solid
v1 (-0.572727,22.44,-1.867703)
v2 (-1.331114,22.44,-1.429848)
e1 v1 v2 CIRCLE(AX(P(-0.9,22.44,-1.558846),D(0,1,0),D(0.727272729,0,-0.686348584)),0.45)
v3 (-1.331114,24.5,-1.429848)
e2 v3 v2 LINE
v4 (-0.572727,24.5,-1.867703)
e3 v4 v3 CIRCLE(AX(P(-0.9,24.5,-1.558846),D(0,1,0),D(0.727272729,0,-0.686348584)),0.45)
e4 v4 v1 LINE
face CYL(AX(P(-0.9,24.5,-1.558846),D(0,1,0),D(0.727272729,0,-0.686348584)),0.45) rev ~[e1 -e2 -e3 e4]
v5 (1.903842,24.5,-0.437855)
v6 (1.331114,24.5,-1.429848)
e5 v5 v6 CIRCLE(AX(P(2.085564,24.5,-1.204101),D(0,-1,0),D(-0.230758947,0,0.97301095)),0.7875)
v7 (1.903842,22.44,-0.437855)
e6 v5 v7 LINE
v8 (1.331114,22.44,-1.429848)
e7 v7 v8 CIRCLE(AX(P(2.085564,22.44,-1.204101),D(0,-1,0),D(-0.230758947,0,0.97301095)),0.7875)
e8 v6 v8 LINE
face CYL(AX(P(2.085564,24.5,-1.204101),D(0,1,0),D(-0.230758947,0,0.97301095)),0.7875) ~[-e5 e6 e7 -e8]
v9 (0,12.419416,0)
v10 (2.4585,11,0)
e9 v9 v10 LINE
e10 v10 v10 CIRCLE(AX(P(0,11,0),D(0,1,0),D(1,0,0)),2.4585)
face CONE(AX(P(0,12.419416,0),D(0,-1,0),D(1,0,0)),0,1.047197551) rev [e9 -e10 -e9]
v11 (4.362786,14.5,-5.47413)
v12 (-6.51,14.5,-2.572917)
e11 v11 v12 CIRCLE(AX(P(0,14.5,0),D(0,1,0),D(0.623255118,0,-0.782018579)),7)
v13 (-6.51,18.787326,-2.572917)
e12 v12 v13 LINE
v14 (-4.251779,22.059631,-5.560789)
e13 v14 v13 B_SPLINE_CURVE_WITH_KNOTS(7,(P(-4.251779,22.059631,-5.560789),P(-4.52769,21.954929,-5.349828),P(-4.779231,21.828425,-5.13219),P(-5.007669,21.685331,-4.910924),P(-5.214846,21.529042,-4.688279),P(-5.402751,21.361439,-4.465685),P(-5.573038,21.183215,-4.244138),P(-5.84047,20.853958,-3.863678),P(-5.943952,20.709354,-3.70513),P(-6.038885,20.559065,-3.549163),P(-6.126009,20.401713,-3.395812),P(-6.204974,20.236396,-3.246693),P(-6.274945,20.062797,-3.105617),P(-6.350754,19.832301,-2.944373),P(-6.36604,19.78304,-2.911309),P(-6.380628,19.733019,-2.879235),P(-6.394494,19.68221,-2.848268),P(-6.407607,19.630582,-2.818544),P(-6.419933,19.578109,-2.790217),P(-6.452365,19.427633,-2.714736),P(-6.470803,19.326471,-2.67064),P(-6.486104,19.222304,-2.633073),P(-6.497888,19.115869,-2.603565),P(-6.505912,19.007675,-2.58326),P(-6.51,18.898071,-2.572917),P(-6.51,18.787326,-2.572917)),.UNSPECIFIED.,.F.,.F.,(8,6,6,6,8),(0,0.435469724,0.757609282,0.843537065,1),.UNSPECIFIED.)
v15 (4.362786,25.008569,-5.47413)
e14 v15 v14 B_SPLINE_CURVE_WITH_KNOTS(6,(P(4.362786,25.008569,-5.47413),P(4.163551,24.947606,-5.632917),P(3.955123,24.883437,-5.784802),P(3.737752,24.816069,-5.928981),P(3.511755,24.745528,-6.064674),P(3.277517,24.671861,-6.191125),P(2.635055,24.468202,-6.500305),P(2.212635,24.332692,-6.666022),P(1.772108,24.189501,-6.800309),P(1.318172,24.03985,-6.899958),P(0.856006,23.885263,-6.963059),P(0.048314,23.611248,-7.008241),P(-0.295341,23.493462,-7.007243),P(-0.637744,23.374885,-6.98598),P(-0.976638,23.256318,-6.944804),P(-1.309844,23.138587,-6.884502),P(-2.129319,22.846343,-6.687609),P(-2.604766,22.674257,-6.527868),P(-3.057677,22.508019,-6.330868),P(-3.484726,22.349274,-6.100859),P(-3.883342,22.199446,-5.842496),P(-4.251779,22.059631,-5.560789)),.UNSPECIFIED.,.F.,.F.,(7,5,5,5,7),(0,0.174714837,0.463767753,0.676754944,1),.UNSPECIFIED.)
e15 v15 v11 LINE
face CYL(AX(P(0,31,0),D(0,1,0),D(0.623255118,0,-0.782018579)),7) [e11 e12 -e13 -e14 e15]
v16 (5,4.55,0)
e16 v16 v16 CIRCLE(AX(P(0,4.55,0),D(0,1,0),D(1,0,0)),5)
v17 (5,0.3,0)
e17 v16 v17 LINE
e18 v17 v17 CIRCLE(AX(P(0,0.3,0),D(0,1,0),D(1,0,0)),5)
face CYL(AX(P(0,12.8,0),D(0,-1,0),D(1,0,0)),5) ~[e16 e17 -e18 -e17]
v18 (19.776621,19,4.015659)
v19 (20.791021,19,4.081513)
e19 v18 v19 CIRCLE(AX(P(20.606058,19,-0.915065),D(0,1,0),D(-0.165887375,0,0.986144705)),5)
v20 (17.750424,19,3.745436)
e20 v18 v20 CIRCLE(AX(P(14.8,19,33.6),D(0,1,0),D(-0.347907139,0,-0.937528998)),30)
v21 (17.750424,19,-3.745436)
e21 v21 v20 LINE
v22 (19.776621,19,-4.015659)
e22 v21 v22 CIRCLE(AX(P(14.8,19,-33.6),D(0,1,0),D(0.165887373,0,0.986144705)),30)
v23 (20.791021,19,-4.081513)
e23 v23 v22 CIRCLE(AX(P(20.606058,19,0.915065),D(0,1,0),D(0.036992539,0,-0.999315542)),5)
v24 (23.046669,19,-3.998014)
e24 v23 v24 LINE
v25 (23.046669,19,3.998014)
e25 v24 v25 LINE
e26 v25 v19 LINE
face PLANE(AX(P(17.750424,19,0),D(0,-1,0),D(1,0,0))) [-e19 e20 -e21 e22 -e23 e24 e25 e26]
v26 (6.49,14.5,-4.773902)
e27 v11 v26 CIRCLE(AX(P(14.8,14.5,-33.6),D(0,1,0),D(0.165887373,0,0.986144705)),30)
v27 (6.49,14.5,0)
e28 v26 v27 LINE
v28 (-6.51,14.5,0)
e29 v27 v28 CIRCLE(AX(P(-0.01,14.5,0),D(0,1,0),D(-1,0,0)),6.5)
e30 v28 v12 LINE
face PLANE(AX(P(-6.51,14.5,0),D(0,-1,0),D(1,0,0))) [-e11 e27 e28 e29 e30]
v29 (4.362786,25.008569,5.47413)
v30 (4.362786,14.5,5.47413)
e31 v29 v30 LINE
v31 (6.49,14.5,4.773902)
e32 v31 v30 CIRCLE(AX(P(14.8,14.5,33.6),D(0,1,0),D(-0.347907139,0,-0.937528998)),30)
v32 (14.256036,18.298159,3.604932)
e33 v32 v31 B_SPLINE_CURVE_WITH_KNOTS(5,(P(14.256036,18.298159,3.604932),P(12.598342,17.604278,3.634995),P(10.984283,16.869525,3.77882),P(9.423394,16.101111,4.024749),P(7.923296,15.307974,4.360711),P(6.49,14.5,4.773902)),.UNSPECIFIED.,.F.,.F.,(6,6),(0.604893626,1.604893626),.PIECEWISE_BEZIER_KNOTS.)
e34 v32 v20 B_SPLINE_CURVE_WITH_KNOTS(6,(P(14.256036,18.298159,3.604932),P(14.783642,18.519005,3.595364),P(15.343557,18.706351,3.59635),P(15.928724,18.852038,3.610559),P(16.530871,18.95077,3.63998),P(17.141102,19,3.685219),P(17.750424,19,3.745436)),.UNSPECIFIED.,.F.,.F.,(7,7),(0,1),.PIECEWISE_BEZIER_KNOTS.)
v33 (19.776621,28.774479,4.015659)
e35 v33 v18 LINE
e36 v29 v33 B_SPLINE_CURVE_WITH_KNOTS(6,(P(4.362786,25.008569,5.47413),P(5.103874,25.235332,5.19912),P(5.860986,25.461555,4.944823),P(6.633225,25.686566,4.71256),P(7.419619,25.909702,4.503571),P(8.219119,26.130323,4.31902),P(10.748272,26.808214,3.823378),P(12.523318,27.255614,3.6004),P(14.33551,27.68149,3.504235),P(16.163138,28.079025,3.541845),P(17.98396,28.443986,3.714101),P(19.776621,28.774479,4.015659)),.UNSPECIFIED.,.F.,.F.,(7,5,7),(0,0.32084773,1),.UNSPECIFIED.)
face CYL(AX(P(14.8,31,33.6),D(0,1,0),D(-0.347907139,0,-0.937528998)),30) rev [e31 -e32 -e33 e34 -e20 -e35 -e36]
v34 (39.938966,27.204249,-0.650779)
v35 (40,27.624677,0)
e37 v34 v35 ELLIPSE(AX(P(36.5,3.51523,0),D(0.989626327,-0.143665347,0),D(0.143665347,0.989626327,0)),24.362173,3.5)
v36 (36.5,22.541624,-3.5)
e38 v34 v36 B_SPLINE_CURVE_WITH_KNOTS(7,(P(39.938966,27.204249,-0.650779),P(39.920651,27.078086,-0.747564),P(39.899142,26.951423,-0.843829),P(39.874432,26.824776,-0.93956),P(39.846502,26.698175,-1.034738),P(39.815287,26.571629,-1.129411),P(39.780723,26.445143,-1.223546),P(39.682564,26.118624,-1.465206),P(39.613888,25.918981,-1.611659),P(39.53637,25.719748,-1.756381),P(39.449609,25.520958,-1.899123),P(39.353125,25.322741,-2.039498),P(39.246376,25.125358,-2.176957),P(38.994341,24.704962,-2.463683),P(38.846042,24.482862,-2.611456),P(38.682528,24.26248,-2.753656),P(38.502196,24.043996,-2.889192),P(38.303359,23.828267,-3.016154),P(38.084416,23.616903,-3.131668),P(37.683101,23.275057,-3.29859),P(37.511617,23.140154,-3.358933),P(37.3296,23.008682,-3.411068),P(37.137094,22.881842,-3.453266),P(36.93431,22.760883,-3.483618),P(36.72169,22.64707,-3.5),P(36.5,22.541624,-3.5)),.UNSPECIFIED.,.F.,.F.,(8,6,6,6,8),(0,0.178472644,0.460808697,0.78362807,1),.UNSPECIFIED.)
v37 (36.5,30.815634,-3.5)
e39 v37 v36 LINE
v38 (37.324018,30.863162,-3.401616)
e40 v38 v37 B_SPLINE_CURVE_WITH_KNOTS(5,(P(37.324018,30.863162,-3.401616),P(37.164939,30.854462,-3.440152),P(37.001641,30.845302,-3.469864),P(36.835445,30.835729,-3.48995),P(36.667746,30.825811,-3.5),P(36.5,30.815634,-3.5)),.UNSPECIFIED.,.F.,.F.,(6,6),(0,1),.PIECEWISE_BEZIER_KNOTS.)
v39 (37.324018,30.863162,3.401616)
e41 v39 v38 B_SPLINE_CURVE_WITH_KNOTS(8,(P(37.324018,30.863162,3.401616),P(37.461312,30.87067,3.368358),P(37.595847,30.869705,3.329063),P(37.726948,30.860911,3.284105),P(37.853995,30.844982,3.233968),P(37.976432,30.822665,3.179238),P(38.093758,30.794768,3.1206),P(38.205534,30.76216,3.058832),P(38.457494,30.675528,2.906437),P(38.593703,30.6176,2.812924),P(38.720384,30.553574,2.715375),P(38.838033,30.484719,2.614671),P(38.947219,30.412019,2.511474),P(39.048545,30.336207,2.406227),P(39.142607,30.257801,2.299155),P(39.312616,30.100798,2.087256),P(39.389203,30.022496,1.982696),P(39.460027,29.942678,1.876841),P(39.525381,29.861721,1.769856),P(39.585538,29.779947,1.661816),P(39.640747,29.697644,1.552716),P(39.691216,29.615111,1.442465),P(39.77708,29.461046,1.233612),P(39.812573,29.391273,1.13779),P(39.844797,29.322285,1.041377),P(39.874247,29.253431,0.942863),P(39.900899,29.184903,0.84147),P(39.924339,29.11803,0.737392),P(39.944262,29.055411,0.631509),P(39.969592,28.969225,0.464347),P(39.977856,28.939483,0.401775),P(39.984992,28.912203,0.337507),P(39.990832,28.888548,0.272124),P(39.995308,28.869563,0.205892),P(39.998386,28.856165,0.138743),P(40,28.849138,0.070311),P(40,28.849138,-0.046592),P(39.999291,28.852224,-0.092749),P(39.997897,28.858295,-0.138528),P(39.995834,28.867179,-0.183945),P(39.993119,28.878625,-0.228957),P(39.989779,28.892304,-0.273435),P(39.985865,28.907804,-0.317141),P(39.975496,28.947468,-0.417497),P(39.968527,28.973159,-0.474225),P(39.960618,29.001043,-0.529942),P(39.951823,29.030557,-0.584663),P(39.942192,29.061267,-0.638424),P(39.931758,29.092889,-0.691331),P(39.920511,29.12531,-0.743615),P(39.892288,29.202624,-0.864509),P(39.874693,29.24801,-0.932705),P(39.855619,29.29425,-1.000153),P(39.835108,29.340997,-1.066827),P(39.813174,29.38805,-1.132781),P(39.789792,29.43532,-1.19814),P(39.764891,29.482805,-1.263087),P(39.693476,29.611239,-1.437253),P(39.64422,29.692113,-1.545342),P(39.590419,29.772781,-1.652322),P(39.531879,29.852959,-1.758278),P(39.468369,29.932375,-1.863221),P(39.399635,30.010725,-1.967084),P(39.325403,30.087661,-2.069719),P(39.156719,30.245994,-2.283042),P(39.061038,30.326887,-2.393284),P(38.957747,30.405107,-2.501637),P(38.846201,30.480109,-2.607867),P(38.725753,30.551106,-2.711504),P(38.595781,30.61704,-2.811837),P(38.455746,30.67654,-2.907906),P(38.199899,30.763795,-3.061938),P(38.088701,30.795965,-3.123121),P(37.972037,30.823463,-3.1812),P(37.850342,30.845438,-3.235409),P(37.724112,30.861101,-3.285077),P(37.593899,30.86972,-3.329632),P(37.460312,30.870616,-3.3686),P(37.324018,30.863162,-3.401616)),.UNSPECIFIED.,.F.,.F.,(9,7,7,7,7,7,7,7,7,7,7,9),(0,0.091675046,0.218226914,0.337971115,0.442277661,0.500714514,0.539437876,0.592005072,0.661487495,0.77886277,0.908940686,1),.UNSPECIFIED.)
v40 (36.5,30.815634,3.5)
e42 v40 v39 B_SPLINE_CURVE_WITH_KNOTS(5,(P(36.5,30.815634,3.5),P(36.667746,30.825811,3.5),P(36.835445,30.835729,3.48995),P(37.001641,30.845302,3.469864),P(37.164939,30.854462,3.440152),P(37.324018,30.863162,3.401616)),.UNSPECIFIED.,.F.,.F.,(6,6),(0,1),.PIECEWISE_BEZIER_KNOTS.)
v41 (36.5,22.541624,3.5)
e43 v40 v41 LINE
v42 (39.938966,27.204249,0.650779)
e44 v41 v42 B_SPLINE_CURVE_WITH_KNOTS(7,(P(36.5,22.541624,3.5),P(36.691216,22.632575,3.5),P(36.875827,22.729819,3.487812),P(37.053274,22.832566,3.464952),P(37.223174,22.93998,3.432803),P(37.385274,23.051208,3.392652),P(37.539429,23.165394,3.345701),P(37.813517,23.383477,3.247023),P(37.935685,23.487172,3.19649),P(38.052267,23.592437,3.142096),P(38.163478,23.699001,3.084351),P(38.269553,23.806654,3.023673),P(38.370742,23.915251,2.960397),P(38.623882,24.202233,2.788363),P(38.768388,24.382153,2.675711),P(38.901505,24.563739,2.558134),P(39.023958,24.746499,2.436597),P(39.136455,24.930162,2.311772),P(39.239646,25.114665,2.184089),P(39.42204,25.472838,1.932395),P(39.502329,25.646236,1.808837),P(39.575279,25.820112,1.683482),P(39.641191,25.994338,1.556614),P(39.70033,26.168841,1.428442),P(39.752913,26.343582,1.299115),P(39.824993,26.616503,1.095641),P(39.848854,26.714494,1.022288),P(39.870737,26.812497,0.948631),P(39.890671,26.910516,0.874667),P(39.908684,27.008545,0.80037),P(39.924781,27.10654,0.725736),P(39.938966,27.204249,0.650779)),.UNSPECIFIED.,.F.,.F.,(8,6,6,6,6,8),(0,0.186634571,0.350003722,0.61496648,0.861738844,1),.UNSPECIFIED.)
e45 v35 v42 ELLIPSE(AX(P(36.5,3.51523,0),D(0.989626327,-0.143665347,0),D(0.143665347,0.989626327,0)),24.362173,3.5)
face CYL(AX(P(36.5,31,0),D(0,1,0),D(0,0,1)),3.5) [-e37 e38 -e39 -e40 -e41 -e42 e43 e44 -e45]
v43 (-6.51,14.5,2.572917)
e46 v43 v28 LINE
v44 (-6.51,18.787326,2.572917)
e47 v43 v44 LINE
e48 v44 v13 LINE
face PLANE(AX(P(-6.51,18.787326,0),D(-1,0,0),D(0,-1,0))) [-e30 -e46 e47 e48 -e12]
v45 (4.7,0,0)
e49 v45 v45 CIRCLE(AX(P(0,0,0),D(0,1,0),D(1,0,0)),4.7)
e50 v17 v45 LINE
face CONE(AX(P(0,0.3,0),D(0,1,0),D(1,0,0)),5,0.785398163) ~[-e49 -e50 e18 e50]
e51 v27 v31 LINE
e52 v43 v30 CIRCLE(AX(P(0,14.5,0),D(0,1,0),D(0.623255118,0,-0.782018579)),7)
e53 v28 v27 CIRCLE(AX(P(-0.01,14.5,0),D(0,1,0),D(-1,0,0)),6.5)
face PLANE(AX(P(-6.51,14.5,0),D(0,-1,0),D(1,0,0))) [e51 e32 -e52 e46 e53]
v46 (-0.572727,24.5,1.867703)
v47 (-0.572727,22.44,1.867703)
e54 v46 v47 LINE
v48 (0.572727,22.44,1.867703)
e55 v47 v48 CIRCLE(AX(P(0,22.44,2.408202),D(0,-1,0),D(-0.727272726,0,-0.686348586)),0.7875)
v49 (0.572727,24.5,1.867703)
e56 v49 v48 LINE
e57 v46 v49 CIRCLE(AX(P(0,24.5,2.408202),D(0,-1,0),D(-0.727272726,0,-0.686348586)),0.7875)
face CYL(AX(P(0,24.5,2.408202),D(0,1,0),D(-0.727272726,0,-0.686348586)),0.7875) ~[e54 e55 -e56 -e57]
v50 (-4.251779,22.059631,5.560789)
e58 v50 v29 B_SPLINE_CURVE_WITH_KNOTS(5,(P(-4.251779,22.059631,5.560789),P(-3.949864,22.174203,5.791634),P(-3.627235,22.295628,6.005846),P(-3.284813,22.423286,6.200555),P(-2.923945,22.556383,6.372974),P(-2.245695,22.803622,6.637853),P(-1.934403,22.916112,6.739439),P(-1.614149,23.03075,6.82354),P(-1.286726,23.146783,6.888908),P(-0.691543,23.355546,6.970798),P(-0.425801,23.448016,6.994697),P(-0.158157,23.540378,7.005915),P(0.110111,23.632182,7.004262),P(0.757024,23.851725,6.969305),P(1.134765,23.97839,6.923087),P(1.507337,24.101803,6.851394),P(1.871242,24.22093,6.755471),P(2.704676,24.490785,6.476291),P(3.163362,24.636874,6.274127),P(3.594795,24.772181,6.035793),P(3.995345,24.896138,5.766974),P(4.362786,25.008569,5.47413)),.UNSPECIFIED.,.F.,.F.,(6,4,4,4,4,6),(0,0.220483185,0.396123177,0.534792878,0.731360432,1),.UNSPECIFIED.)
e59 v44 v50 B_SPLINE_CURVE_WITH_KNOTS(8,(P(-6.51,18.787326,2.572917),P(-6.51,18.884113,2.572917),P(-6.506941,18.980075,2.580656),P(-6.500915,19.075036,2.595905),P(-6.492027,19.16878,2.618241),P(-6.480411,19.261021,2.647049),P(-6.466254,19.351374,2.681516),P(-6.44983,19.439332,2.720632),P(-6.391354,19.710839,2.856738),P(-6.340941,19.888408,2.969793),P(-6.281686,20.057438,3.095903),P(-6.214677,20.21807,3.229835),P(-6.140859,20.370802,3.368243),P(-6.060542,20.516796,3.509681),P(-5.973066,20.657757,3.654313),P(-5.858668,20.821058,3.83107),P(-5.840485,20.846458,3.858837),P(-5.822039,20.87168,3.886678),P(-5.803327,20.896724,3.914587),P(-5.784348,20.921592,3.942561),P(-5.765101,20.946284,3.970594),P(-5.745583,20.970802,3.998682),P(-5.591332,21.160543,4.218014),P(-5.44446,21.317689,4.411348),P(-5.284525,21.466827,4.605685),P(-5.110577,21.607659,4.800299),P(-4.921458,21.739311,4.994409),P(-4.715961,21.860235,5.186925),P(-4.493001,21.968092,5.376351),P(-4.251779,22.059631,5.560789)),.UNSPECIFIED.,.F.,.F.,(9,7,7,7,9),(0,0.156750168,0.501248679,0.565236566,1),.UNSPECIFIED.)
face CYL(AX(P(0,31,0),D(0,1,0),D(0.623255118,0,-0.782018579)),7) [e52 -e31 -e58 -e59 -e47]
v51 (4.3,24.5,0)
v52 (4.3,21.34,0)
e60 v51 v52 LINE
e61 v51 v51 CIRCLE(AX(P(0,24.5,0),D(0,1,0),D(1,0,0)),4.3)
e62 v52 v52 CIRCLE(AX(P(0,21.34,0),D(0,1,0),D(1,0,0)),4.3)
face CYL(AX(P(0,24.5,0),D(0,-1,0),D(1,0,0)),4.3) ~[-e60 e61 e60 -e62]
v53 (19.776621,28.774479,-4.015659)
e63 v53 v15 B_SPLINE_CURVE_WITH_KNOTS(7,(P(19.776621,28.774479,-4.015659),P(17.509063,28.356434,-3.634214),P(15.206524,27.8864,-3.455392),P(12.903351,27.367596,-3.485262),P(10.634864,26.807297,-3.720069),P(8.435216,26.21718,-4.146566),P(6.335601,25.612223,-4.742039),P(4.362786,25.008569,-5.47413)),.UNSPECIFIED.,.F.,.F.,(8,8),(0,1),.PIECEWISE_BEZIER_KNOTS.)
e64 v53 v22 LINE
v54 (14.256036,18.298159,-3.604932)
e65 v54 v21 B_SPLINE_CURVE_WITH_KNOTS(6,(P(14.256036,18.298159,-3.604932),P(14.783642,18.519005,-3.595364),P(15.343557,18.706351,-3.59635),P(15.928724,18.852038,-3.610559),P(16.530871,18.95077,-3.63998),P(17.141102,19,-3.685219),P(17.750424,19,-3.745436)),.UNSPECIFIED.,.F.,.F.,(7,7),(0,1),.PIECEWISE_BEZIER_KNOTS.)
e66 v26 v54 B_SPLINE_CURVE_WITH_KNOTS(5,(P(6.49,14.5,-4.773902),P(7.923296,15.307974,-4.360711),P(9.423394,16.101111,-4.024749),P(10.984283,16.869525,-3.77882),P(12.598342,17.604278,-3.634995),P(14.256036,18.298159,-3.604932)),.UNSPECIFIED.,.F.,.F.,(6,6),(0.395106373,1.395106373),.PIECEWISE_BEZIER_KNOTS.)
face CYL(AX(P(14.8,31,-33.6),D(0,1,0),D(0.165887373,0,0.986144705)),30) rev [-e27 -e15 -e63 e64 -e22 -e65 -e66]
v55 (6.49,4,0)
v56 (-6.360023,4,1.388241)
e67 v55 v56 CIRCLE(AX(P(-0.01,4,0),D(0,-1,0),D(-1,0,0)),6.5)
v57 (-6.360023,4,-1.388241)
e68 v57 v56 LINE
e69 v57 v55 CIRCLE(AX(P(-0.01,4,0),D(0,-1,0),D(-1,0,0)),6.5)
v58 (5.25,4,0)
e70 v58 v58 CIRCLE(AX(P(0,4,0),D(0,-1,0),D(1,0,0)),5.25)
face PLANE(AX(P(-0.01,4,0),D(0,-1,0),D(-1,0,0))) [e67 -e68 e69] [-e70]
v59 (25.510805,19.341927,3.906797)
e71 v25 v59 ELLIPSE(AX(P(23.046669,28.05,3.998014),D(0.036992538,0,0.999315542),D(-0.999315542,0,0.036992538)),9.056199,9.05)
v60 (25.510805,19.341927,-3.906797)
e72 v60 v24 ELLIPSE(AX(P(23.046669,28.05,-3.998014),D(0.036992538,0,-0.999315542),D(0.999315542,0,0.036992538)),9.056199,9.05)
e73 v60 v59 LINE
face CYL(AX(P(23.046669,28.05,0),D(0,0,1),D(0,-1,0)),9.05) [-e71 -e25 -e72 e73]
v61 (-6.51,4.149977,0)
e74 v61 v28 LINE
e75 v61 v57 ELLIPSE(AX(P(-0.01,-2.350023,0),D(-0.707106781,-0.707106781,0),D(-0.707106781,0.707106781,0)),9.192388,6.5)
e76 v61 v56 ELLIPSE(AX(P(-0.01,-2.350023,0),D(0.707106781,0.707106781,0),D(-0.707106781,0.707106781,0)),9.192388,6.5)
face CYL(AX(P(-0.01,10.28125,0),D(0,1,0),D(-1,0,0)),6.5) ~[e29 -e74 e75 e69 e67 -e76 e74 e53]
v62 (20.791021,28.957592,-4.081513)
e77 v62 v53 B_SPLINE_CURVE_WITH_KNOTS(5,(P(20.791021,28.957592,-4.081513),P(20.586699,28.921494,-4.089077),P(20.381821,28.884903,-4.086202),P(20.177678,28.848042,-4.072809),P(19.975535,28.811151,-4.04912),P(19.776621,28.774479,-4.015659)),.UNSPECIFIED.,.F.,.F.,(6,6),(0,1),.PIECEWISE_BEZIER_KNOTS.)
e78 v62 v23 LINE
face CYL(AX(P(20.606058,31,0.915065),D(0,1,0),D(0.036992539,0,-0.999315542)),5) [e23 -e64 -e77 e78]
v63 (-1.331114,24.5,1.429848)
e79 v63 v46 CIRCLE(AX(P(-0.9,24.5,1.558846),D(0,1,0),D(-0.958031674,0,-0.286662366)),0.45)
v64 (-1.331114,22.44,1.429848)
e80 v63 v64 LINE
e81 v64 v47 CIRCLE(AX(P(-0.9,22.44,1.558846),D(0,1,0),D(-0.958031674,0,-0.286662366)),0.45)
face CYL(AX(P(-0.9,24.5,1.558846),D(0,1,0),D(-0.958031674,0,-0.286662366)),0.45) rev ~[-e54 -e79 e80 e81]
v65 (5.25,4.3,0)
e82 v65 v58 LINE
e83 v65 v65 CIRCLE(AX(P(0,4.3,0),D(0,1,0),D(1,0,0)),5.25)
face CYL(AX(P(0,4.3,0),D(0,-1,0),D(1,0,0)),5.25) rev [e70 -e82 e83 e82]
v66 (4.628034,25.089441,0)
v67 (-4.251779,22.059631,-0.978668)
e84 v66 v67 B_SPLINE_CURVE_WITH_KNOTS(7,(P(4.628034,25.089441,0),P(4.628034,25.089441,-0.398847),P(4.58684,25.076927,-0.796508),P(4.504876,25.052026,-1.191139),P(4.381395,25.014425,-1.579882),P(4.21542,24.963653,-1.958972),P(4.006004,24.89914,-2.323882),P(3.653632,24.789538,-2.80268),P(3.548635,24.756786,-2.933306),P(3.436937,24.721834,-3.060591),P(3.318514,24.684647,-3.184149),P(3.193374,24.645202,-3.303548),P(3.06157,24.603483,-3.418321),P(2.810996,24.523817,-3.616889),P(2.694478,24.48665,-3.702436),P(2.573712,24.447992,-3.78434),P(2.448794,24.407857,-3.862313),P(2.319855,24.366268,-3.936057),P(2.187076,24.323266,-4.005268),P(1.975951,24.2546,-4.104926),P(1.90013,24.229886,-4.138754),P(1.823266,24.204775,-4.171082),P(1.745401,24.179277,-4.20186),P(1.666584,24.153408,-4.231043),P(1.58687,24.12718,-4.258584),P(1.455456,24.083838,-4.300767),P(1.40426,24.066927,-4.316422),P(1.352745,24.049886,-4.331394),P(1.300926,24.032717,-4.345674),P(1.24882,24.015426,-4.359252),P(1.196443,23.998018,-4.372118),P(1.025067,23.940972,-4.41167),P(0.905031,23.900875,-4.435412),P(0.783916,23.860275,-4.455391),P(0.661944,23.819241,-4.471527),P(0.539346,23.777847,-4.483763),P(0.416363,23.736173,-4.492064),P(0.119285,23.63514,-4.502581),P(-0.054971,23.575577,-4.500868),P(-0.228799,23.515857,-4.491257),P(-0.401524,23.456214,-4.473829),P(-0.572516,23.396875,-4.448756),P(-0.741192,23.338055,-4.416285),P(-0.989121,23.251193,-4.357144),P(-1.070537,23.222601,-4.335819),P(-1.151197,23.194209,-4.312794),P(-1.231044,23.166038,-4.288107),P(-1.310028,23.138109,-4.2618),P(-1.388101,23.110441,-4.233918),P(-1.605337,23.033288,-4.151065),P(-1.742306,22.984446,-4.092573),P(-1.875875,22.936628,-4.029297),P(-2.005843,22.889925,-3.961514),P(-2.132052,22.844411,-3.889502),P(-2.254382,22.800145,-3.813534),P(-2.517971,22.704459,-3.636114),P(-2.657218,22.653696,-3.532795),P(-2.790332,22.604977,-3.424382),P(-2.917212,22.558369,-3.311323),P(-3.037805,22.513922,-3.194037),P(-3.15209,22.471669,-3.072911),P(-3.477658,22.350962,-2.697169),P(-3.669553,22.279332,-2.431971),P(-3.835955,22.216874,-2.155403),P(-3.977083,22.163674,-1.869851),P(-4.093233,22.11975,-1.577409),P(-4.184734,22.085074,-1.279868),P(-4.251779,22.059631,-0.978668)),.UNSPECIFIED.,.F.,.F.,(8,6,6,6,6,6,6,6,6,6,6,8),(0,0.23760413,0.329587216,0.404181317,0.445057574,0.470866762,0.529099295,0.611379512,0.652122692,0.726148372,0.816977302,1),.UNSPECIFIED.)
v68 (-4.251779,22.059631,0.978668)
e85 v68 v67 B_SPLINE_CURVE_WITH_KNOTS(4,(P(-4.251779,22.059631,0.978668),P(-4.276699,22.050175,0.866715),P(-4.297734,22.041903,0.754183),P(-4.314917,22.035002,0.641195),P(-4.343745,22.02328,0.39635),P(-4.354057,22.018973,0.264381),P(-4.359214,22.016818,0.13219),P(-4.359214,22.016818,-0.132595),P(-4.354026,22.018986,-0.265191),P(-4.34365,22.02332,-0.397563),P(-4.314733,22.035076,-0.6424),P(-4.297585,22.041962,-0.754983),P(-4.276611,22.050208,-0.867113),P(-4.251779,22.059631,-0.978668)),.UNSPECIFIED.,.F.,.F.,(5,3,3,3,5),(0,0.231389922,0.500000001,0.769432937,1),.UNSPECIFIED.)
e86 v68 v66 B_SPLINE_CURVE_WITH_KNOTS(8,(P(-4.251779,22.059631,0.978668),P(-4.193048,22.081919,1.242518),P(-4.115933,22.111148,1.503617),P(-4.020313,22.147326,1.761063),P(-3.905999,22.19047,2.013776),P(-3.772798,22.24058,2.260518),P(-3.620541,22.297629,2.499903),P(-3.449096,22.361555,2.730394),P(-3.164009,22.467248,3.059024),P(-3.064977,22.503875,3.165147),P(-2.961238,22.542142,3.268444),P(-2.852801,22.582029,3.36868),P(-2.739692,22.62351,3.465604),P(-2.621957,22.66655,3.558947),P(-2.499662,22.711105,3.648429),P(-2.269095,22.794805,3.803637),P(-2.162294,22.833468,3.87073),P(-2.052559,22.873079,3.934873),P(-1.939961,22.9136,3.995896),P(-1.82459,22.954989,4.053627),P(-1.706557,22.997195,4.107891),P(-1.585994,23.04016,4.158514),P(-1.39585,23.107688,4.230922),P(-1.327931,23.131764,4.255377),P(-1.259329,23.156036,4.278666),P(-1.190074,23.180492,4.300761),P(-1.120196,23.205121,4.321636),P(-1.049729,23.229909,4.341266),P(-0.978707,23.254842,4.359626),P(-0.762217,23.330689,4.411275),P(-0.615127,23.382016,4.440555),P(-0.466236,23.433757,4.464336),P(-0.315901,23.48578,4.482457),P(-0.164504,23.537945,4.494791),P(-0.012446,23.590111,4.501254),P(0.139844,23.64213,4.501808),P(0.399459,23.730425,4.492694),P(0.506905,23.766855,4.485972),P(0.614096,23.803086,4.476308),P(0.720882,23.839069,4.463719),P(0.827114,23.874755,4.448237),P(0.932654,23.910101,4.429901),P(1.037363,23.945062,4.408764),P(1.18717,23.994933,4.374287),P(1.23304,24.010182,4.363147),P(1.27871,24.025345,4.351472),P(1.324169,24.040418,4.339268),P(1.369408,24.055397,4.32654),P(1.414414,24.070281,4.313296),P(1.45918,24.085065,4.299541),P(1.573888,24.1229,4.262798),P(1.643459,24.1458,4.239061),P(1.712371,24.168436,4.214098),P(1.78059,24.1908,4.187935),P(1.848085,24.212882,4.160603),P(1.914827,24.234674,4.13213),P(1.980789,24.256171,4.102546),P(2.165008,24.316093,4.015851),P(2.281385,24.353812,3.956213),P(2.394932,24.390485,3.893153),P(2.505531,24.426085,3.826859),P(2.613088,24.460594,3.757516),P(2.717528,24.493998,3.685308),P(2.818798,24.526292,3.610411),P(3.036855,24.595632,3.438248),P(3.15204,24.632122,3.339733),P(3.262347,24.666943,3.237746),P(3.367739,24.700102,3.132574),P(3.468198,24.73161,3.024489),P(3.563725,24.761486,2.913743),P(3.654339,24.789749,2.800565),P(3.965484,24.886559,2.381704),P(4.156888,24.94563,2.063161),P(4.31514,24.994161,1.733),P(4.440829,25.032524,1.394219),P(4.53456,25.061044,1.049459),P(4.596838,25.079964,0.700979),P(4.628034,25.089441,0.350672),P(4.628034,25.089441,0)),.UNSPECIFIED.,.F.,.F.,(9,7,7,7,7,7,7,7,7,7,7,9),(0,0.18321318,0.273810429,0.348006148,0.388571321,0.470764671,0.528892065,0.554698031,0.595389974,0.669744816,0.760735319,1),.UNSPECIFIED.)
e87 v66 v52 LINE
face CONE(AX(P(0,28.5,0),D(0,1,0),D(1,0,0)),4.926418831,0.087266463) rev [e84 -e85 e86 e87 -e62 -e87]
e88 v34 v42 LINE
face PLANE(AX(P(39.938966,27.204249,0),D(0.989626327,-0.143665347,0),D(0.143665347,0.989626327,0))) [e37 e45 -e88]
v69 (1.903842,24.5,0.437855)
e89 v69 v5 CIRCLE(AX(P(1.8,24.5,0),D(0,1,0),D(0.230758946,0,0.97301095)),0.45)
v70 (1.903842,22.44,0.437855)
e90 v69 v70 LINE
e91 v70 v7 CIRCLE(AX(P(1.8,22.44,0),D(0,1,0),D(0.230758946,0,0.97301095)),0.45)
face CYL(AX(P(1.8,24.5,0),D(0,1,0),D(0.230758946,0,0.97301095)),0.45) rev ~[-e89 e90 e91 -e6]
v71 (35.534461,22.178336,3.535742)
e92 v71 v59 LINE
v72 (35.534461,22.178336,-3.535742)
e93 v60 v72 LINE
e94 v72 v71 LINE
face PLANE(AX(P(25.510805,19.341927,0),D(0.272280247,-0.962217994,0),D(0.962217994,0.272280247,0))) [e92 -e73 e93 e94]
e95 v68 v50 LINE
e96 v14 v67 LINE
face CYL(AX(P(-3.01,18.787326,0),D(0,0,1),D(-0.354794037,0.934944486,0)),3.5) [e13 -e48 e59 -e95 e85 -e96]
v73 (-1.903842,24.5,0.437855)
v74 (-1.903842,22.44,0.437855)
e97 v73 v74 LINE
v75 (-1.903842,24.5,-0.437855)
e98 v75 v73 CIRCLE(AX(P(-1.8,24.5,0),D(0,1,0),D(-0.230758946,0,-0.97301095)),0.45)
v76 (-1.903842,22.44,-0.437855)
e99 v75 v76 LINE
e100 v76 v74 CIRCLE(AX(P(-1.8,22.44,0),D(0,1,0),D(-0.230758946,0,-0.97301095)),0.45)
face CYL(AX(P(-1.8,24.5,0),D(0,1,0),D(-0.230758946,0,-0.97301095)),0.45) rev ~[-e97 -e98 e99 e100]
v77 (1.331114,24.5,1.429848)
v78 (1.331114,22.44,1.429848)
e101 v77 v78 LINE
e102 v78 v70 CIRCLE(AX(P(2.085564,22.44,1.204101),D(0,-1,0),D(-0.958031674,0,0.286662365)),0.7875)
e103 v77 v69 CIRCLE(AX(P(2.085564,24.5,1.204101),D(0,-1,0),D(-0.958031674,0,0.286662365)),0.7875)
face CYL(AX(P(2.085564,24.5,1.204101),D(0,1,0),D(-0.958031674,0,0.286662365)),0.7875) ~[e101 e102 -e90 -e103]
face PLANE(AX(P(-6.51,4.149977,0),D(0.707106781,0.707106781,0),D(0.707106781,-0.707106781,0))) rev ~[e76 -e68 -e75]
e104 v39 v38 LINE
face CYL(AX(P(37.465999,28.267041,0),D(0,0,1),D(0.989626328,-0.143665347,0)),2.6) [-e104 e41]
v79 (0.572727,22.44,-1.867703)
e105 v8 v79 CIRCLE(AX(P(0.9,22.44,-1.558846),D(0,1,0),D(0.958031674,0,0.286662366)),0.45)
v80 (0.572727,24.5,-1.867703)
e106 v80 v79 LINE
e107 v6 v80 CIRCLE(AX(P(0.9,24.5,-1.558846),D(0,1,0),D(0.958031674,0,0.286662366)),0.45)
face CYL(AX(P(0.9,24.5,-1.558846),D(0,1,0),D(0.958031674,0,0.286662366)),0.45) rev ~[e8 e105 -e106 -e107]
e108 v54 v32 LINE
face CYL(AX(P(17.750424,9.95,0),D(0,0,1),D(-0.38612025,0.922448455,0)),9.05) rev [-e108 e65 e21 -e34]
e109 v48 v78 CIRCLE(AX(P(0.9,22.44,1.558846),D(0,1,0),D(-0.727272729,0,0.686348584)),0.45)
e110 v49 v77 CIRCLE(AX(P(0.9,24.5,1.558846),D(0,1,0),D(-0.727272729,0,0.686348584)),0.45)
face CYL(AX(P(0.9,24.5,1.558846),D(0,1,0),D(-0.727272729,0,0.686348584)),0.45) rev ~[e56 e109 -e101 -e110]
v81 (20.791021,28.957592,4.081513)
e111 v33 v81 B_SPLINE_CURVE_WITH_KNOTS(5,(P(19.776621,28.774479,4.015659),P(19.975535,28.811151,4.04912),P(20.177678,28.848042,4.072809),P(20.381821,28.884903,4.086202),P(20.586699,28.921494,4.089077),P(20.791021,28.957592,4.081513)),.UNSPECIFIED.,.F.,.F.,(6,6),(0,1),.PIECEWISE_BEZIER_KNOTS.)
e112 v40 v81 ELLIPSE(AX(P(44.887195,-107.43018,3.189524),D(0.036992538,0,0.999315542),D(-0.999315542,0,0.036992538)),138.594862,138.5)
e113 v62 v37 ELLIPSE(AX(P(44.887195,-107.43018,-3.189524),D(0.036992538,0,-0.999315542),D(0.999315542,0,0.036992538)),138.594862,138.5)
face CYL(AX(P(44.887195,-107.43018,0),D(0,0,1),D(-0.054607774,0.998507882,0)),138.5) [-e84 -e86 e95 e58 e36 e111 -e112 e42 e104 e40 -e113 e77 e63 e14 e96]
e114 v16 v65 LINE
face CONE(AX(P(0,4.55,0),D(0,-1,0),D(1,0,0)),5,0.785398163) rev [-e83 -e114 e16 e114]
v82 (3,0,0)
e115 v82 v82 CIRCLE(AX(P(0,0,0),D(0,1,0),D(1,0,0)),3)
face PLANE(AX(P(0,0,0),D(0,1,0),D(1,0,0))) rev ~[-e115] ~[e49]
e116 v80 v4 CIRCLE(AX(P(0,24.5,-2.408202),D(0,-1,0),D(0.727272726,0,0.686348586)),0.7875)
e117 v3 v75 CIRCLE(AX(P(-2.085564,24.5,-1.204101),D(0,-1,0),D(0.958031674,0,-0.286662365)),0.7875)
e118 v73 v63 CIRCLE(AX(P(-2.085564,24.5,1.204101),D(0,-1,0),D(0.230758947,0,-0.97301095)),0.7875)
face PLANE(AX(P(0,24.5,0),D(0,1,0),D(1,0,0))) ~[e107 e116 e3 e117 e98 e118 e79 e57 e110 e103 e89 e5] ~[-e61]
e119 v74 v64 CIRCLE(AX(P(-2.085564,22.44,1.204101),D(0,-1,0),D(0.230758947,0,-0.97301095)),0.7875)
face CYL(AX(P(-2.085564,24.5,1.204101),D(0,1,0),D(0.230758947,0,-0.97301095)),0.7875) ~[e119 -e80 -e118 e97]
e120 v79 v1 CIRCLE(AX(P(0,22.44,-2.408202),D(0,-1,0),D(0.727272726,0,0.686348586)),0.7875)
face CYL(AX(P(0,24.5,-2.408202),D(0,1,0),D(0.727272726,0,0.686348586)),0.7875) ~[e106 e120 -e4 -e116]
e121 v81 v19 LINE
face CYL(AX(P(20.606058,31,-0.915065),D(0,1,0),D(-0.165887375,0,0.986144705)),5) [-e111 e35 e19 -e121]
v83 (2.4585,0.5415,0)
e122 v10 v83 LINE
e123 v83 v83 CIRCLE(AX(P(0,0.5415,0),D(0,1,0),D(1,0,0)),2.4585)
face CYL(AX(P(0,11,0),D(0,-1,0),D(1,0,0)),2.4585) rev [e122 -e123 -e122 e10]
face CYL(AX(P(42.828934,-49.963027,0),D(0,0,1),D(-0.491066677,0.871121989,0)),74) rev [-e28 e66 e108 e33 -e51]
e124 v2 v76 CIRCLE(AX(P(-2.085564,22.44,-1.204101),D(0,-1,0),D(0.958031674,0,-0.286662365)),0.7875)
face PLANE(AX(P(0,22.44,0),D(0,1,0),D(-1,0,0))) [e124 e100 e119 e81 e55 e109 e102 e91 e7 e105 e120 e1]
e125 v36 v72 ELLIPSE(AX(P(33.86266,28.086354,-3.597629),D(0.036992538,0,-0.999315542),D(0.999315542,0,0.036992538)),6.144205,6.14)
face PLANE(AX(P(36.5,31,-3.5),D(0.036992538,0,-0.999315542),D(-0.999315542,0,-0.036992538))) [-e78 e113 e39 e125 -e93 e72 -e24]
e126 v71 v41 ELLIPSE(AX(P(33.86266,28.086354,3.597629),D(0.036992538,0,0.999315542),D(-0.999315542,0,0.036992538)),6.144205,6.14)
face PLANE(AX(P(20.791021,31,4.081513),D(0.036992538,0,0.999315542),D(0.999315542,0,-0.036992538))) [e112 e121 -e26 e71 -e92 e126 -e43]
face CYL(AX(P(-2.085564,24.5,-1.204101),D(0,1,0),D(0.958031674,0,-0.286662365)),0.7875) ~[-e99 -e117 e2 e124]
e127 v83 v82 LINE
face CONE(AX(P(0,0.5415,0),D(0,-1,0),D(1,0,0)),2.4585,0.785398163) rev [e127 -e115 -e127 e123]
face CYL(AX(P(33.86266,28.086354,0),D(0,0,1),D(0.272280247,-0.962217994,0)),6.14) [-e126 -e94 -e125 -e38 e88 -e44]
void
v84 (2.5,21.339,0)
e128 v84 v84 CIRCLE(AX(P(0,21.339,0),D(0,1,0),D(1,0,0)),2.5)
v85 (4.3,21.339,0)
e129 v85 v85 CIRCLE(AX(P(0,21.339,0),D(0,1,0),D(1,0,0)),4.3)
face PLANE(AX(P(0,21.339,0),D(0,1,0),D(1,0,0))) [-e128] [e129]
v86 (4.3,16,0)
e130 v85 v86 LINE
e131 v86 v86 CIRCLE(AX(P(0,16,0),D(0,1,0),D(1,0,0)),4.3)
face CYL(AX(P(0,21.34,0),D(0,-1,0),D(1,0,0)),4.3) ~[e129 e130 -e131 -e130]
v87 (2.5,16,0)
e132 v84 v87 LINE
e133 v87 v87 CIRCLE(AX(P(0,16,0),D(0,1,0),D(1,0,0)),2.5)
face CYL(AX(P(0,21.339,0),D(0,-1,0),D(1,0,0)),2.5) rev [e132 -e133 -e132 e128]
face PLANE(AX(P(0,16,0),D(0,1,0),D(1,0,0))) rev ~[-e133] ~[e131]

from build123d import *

# Parameters (mm, degrees)
EXTRUDE1_DEPTH      = 8
EXTRUDE1_DEPTH_BACK = 8
SKETCH2_W           = 6.5
SKETCH2_H           = 12.5625
SKETCH3_W           = 94
SKETCH3_H           = 94
EXTRUDE2_DEPTH      = 31
EXTRUDE3_DEPTH      = 14
EXTRUDE3_DEPTH_BACK = 14
SKETCH4_W           = 94
SKETCH4_H           = 47
EXTRUDE4_DEPTH      = 2.06
EXTRUDE4_DEPTH_BACK = 2.06


with BuildPart() as part:
    # Sketch1 → Extrude1 (new, two sides: drawn at the far end of the back side and taken through both)
    with BuildSketch(Plane.XY.offset(-EXTRUDE1_DEPTH_BACK)):
        with BuildLine():
            Line((-6.51, 14.5), (6.49, 14.5))
            ThreePointArc((6.49, 14.5), (10.317505243, 16.512584876), (14.256035557, 18.29815852))
            ThreePointArc((14.256035557, 18.29815852), (15.968337207, 18.822804929), (17.75042382, 19))
            Line((17.75042382, 19), (23.046668584, 19))
            ThreePointArc((23.046668584, 19), (24.290541726, 19.085889358), (25.51080482, 19.341927159))
            Line((25.51080482, 19.341927159), (35.534460964, 22.178335945))
            ThreePointArc((35.534460964, 22.178335945), (38.480369536, 24.039582758), (39.938965898, 27.204249197))
            Line((39.938965898, 27.204249197), (40.03902701, 27.893511518))
            ThreePointArc((40.03902701, 27.893511518), (39.384905735, 30.021406047), (37.324018346, 30.863161913))
            ThreePointArc((37.324018346, 30.863161913), (16.196447137, 28.065543342), (-4.25177913, 22.059631473))
            ThreePointArc((-4.25177913, 22.059631473), (-5.890644629, 20.775261015), (-6.51, 18.787325774))
            Line((-6.51, 18.787325774), (-6.51, 14.5))
        make_face()
    extrude(amount=EXTRUDE1_DEPTH + EXTRUDE1_DEPTH_BACK)

    # Sketch2 → Revolve1 (revolve)
    with BuildSketch(Plane.XY):
        with Locations((-3.26, 10.28125)):
            Rectangle(SKETCH2_W, SKETCH2_H)
    revolve(axis=Axis((-0.01, 16.5625, 0), (0, -1, 0)))

    # Sketch3 → Extrude2 (cut)
    with BuildSketch(Plane(origin=(0, 31, 0), x_dir=(-1, 0, 0), z_dir=(0, 1, 0))):
        with Locations((-7, -7)):
            Rectangle(SKETCH3_W, SKETCH3_H)
        with BuildLine():
            Line((-20.791020756, 4.081513031), (-36.5, 3.5))
            ThreePointArc((-36.5, 3.5), (-40, 0), (-36.5, -3.5))
            Line((-36.5, -3.5), (-20.791020756, -4.081513031))
            ThreePointArc((-20.791020756, -4.081513031), (-20.282143055, -4.074432197), (-19.7766212, -4.015658847))
            ThreePointArc((-19.7766212, -4.015658847), (-11.97399514, -3.733401658), (-4.362785826, -5.474130053))
            ThreePointArc((-4.362785826, -5.474130053), (7, 0), (-4.362785826, 5.474130053))
            ThreePointArc((-4.362785826, 5.474130053), (-11.97399514, 3.733401658), (-19.7766212, 4.015658847))
            ThreePointArc((-19.7766212, 4.015658847), (-20.282143055, 4.074432197), (-20.791020756, 4.081513031))
        make_face(mode=Mode.SUBTRACT)
    extrude(amount=-EXTRUDE2_DEPTH, mode=Mode.SUBTRACT)

    # Sketch4 → Extrude3 (cut, two sides: drawn at the far end of the back side and taken through both)
    with BuildSketch(Plane.XY.offset(-EXTRUDE3_DEPTH_BACK)):
        with Locations((7, 23.5)):
            Rectangle(SKETCH4_W, SKETCH4_H)
        with BuildLine():
            Line((-6.51, 18.787325774), (-6.51, 4.149977348))
            Line((-6.51, 4.149977348), (-6.360022652, 4))
            Line((-6.360022652, 4), (6.49, 4))
            Line((6.49, 4), (6.49, 9.643220966))
            ThreePointArc((6.49, 9.643220966), (7.726858035, 13.916382648), (11.05497769, 16.868220739))
            ThreePointArc((11.05497769, 16.868220739), (12.647037105, 17.602149488), (14.256035557, 18.29815852))
            ThreePointArc((14.256035557, 18.29815852), (15.968337207, 18.822804929), (17.75042382, 19))
            Line((17.75042382, 19), (23.046668584, 19))
            ThreePointArc((23.046668584, 19), (24.290541726, 19.085889358), (25.51080482, 19.341927159))
            Line((25.51080482, 19.341927159), (35.534460964, 22.178335945))
            ThreePointArc((35.534460964, 22.178335945), (38.480369536, 24.039582758), (39.938965898, 27.204249197))
            Line((39.938965898, 27.204249197), (40.03902701, 27.893511518))
            ThreePointArc((40.03902701, 27.893511518), (39.384905735, 30.021406047), (37.324018346, 30.863161913))
            ThreePointArc((37.324018346, 30.863161913), (16.196447137, 28.065543342), (-4.25177913, 22.059631473))
            ThreePointArc((-4.25177913, 22.059631473), (-5.890644629, 20.775261015), (-6.51, 18.787325774))
        make_face(mode=Mode.SUBTRACT)
    extrude(amount=EXTRUDE3_DEPTH + EXTRUDE3_DEPTH_BACK, mode=Mode.SUBTRACT)

    # Sketch5 → Cut-Revolve1 (revolve, cut)
    with BuildSketch(Plane.XY):
        Polygon((0, 28.5), (4.926418831, 28.5), (4.3, 21.34), (4.3, 16), (2.5, 16), (2.5, 15), (4.15, 15), (4.15, 12.8), (5, 12.8), (5, 4.55), (5.25, 4.3), (5.25, 3), (0, 3), align=None)
    revolve(axis=Axis((0, 4, 0), (0, 1, 0)), mode=Mode.SUBTRACT)

    # Sketch6 → Revolve2 (revolve)
    with BuildSketch(Plane.XY):
        Polygon((0, 24.5), (4.3, 24.5), (4.3, 21.339), (2.5, 21.339), (2.5, 15), (4.15, 15), (4.15, 12.8), (5, 12.8), (5, 0.3), (4.7, 0), (0, 0), align=None)
    revolve(axis=Axis((0, 0, 0), (0, 1, 0)))

    # Sketch7 → Extrude4 (cut, two sides: drawn at the far end of the back side and taken through both)
    with BuildSketch(Plane(origin=(0, 24.5, 0), x_dir=(-1, 0, 0), z_dir=(0, 1, 0)).offset(-EXTRUDE4_DEPTH_BACK)):
        with BuildLine():
            ThreePointArc((1.903841526, -0.437854927), (2.25, 0), (1.903841526, 0.437854927))
            ThreePointArc((1.903841526, 0.437854927), (1.403569191, 0.81035105), (1.331114253, 1.429847663))
            ThreePointArc((1.331114253, 1.429847663), (1.125, 1.948557159), (0.572727273, 1.86770259))
            ThreePointArc((0.572727273, 1.86770259), (0, 1.620702101), (-0.572727273, 1.86770259))
            ThreePointArc((-0.572727273, 1.86770259), (-1.125, 1.948557159), (-1.331114253, 1.429847663))
            ThreePointArc((-1.331114253, 1.429847663), (-1.403569191, 0.81035105), (-1.903841526, 0.437854927))
            ThreePointArc((-1.903841526, 0.437854927), (-2.25, 0), (-1.903841526, -0.437854927))
            ThreePointArc((-1.903841526, -0.437854927), (-1.403569191, -0.81035105), (-1.331114253, -1.429847663))
            ThreePointArc((-1.331114253, -1.429847663), (-1.125, -1.948557159), (-0.572727273, -1.86770259))
            ThreePointArc((-0.572727273, -1.86770259), (0, -1.620702101), (0.572727273, -1.86770259))
            ThreePointArc((0.572727273, -1.86770259), (1.125, -1.948557159), (1.331114253, -1.429847663))
            ThreePointArc((1.331114253, -1.429847663), (1.403569191, -0.81035105), (1.903841526, -0.437854927))
        make_face()
    extrude(amount=EXTRUDE4_DEPTH + EXTRUDE4_DEPTH_BACK, mode=Mode.SUBTRACT)

    # Sketch8 → Cut-Revolve2 (revolve, cut)
    with BuildSketch(Plane.XY):
        Polygon((0, 12.419415637), (2.4585, 11), (2.4585, 0.5415), (3, 0), (0, 0), align=None)
    revolve(axis=Axis((0, 0, 0), (0, 1, 0)), mode=Mode.SUBTRACT)


solid = part.part
